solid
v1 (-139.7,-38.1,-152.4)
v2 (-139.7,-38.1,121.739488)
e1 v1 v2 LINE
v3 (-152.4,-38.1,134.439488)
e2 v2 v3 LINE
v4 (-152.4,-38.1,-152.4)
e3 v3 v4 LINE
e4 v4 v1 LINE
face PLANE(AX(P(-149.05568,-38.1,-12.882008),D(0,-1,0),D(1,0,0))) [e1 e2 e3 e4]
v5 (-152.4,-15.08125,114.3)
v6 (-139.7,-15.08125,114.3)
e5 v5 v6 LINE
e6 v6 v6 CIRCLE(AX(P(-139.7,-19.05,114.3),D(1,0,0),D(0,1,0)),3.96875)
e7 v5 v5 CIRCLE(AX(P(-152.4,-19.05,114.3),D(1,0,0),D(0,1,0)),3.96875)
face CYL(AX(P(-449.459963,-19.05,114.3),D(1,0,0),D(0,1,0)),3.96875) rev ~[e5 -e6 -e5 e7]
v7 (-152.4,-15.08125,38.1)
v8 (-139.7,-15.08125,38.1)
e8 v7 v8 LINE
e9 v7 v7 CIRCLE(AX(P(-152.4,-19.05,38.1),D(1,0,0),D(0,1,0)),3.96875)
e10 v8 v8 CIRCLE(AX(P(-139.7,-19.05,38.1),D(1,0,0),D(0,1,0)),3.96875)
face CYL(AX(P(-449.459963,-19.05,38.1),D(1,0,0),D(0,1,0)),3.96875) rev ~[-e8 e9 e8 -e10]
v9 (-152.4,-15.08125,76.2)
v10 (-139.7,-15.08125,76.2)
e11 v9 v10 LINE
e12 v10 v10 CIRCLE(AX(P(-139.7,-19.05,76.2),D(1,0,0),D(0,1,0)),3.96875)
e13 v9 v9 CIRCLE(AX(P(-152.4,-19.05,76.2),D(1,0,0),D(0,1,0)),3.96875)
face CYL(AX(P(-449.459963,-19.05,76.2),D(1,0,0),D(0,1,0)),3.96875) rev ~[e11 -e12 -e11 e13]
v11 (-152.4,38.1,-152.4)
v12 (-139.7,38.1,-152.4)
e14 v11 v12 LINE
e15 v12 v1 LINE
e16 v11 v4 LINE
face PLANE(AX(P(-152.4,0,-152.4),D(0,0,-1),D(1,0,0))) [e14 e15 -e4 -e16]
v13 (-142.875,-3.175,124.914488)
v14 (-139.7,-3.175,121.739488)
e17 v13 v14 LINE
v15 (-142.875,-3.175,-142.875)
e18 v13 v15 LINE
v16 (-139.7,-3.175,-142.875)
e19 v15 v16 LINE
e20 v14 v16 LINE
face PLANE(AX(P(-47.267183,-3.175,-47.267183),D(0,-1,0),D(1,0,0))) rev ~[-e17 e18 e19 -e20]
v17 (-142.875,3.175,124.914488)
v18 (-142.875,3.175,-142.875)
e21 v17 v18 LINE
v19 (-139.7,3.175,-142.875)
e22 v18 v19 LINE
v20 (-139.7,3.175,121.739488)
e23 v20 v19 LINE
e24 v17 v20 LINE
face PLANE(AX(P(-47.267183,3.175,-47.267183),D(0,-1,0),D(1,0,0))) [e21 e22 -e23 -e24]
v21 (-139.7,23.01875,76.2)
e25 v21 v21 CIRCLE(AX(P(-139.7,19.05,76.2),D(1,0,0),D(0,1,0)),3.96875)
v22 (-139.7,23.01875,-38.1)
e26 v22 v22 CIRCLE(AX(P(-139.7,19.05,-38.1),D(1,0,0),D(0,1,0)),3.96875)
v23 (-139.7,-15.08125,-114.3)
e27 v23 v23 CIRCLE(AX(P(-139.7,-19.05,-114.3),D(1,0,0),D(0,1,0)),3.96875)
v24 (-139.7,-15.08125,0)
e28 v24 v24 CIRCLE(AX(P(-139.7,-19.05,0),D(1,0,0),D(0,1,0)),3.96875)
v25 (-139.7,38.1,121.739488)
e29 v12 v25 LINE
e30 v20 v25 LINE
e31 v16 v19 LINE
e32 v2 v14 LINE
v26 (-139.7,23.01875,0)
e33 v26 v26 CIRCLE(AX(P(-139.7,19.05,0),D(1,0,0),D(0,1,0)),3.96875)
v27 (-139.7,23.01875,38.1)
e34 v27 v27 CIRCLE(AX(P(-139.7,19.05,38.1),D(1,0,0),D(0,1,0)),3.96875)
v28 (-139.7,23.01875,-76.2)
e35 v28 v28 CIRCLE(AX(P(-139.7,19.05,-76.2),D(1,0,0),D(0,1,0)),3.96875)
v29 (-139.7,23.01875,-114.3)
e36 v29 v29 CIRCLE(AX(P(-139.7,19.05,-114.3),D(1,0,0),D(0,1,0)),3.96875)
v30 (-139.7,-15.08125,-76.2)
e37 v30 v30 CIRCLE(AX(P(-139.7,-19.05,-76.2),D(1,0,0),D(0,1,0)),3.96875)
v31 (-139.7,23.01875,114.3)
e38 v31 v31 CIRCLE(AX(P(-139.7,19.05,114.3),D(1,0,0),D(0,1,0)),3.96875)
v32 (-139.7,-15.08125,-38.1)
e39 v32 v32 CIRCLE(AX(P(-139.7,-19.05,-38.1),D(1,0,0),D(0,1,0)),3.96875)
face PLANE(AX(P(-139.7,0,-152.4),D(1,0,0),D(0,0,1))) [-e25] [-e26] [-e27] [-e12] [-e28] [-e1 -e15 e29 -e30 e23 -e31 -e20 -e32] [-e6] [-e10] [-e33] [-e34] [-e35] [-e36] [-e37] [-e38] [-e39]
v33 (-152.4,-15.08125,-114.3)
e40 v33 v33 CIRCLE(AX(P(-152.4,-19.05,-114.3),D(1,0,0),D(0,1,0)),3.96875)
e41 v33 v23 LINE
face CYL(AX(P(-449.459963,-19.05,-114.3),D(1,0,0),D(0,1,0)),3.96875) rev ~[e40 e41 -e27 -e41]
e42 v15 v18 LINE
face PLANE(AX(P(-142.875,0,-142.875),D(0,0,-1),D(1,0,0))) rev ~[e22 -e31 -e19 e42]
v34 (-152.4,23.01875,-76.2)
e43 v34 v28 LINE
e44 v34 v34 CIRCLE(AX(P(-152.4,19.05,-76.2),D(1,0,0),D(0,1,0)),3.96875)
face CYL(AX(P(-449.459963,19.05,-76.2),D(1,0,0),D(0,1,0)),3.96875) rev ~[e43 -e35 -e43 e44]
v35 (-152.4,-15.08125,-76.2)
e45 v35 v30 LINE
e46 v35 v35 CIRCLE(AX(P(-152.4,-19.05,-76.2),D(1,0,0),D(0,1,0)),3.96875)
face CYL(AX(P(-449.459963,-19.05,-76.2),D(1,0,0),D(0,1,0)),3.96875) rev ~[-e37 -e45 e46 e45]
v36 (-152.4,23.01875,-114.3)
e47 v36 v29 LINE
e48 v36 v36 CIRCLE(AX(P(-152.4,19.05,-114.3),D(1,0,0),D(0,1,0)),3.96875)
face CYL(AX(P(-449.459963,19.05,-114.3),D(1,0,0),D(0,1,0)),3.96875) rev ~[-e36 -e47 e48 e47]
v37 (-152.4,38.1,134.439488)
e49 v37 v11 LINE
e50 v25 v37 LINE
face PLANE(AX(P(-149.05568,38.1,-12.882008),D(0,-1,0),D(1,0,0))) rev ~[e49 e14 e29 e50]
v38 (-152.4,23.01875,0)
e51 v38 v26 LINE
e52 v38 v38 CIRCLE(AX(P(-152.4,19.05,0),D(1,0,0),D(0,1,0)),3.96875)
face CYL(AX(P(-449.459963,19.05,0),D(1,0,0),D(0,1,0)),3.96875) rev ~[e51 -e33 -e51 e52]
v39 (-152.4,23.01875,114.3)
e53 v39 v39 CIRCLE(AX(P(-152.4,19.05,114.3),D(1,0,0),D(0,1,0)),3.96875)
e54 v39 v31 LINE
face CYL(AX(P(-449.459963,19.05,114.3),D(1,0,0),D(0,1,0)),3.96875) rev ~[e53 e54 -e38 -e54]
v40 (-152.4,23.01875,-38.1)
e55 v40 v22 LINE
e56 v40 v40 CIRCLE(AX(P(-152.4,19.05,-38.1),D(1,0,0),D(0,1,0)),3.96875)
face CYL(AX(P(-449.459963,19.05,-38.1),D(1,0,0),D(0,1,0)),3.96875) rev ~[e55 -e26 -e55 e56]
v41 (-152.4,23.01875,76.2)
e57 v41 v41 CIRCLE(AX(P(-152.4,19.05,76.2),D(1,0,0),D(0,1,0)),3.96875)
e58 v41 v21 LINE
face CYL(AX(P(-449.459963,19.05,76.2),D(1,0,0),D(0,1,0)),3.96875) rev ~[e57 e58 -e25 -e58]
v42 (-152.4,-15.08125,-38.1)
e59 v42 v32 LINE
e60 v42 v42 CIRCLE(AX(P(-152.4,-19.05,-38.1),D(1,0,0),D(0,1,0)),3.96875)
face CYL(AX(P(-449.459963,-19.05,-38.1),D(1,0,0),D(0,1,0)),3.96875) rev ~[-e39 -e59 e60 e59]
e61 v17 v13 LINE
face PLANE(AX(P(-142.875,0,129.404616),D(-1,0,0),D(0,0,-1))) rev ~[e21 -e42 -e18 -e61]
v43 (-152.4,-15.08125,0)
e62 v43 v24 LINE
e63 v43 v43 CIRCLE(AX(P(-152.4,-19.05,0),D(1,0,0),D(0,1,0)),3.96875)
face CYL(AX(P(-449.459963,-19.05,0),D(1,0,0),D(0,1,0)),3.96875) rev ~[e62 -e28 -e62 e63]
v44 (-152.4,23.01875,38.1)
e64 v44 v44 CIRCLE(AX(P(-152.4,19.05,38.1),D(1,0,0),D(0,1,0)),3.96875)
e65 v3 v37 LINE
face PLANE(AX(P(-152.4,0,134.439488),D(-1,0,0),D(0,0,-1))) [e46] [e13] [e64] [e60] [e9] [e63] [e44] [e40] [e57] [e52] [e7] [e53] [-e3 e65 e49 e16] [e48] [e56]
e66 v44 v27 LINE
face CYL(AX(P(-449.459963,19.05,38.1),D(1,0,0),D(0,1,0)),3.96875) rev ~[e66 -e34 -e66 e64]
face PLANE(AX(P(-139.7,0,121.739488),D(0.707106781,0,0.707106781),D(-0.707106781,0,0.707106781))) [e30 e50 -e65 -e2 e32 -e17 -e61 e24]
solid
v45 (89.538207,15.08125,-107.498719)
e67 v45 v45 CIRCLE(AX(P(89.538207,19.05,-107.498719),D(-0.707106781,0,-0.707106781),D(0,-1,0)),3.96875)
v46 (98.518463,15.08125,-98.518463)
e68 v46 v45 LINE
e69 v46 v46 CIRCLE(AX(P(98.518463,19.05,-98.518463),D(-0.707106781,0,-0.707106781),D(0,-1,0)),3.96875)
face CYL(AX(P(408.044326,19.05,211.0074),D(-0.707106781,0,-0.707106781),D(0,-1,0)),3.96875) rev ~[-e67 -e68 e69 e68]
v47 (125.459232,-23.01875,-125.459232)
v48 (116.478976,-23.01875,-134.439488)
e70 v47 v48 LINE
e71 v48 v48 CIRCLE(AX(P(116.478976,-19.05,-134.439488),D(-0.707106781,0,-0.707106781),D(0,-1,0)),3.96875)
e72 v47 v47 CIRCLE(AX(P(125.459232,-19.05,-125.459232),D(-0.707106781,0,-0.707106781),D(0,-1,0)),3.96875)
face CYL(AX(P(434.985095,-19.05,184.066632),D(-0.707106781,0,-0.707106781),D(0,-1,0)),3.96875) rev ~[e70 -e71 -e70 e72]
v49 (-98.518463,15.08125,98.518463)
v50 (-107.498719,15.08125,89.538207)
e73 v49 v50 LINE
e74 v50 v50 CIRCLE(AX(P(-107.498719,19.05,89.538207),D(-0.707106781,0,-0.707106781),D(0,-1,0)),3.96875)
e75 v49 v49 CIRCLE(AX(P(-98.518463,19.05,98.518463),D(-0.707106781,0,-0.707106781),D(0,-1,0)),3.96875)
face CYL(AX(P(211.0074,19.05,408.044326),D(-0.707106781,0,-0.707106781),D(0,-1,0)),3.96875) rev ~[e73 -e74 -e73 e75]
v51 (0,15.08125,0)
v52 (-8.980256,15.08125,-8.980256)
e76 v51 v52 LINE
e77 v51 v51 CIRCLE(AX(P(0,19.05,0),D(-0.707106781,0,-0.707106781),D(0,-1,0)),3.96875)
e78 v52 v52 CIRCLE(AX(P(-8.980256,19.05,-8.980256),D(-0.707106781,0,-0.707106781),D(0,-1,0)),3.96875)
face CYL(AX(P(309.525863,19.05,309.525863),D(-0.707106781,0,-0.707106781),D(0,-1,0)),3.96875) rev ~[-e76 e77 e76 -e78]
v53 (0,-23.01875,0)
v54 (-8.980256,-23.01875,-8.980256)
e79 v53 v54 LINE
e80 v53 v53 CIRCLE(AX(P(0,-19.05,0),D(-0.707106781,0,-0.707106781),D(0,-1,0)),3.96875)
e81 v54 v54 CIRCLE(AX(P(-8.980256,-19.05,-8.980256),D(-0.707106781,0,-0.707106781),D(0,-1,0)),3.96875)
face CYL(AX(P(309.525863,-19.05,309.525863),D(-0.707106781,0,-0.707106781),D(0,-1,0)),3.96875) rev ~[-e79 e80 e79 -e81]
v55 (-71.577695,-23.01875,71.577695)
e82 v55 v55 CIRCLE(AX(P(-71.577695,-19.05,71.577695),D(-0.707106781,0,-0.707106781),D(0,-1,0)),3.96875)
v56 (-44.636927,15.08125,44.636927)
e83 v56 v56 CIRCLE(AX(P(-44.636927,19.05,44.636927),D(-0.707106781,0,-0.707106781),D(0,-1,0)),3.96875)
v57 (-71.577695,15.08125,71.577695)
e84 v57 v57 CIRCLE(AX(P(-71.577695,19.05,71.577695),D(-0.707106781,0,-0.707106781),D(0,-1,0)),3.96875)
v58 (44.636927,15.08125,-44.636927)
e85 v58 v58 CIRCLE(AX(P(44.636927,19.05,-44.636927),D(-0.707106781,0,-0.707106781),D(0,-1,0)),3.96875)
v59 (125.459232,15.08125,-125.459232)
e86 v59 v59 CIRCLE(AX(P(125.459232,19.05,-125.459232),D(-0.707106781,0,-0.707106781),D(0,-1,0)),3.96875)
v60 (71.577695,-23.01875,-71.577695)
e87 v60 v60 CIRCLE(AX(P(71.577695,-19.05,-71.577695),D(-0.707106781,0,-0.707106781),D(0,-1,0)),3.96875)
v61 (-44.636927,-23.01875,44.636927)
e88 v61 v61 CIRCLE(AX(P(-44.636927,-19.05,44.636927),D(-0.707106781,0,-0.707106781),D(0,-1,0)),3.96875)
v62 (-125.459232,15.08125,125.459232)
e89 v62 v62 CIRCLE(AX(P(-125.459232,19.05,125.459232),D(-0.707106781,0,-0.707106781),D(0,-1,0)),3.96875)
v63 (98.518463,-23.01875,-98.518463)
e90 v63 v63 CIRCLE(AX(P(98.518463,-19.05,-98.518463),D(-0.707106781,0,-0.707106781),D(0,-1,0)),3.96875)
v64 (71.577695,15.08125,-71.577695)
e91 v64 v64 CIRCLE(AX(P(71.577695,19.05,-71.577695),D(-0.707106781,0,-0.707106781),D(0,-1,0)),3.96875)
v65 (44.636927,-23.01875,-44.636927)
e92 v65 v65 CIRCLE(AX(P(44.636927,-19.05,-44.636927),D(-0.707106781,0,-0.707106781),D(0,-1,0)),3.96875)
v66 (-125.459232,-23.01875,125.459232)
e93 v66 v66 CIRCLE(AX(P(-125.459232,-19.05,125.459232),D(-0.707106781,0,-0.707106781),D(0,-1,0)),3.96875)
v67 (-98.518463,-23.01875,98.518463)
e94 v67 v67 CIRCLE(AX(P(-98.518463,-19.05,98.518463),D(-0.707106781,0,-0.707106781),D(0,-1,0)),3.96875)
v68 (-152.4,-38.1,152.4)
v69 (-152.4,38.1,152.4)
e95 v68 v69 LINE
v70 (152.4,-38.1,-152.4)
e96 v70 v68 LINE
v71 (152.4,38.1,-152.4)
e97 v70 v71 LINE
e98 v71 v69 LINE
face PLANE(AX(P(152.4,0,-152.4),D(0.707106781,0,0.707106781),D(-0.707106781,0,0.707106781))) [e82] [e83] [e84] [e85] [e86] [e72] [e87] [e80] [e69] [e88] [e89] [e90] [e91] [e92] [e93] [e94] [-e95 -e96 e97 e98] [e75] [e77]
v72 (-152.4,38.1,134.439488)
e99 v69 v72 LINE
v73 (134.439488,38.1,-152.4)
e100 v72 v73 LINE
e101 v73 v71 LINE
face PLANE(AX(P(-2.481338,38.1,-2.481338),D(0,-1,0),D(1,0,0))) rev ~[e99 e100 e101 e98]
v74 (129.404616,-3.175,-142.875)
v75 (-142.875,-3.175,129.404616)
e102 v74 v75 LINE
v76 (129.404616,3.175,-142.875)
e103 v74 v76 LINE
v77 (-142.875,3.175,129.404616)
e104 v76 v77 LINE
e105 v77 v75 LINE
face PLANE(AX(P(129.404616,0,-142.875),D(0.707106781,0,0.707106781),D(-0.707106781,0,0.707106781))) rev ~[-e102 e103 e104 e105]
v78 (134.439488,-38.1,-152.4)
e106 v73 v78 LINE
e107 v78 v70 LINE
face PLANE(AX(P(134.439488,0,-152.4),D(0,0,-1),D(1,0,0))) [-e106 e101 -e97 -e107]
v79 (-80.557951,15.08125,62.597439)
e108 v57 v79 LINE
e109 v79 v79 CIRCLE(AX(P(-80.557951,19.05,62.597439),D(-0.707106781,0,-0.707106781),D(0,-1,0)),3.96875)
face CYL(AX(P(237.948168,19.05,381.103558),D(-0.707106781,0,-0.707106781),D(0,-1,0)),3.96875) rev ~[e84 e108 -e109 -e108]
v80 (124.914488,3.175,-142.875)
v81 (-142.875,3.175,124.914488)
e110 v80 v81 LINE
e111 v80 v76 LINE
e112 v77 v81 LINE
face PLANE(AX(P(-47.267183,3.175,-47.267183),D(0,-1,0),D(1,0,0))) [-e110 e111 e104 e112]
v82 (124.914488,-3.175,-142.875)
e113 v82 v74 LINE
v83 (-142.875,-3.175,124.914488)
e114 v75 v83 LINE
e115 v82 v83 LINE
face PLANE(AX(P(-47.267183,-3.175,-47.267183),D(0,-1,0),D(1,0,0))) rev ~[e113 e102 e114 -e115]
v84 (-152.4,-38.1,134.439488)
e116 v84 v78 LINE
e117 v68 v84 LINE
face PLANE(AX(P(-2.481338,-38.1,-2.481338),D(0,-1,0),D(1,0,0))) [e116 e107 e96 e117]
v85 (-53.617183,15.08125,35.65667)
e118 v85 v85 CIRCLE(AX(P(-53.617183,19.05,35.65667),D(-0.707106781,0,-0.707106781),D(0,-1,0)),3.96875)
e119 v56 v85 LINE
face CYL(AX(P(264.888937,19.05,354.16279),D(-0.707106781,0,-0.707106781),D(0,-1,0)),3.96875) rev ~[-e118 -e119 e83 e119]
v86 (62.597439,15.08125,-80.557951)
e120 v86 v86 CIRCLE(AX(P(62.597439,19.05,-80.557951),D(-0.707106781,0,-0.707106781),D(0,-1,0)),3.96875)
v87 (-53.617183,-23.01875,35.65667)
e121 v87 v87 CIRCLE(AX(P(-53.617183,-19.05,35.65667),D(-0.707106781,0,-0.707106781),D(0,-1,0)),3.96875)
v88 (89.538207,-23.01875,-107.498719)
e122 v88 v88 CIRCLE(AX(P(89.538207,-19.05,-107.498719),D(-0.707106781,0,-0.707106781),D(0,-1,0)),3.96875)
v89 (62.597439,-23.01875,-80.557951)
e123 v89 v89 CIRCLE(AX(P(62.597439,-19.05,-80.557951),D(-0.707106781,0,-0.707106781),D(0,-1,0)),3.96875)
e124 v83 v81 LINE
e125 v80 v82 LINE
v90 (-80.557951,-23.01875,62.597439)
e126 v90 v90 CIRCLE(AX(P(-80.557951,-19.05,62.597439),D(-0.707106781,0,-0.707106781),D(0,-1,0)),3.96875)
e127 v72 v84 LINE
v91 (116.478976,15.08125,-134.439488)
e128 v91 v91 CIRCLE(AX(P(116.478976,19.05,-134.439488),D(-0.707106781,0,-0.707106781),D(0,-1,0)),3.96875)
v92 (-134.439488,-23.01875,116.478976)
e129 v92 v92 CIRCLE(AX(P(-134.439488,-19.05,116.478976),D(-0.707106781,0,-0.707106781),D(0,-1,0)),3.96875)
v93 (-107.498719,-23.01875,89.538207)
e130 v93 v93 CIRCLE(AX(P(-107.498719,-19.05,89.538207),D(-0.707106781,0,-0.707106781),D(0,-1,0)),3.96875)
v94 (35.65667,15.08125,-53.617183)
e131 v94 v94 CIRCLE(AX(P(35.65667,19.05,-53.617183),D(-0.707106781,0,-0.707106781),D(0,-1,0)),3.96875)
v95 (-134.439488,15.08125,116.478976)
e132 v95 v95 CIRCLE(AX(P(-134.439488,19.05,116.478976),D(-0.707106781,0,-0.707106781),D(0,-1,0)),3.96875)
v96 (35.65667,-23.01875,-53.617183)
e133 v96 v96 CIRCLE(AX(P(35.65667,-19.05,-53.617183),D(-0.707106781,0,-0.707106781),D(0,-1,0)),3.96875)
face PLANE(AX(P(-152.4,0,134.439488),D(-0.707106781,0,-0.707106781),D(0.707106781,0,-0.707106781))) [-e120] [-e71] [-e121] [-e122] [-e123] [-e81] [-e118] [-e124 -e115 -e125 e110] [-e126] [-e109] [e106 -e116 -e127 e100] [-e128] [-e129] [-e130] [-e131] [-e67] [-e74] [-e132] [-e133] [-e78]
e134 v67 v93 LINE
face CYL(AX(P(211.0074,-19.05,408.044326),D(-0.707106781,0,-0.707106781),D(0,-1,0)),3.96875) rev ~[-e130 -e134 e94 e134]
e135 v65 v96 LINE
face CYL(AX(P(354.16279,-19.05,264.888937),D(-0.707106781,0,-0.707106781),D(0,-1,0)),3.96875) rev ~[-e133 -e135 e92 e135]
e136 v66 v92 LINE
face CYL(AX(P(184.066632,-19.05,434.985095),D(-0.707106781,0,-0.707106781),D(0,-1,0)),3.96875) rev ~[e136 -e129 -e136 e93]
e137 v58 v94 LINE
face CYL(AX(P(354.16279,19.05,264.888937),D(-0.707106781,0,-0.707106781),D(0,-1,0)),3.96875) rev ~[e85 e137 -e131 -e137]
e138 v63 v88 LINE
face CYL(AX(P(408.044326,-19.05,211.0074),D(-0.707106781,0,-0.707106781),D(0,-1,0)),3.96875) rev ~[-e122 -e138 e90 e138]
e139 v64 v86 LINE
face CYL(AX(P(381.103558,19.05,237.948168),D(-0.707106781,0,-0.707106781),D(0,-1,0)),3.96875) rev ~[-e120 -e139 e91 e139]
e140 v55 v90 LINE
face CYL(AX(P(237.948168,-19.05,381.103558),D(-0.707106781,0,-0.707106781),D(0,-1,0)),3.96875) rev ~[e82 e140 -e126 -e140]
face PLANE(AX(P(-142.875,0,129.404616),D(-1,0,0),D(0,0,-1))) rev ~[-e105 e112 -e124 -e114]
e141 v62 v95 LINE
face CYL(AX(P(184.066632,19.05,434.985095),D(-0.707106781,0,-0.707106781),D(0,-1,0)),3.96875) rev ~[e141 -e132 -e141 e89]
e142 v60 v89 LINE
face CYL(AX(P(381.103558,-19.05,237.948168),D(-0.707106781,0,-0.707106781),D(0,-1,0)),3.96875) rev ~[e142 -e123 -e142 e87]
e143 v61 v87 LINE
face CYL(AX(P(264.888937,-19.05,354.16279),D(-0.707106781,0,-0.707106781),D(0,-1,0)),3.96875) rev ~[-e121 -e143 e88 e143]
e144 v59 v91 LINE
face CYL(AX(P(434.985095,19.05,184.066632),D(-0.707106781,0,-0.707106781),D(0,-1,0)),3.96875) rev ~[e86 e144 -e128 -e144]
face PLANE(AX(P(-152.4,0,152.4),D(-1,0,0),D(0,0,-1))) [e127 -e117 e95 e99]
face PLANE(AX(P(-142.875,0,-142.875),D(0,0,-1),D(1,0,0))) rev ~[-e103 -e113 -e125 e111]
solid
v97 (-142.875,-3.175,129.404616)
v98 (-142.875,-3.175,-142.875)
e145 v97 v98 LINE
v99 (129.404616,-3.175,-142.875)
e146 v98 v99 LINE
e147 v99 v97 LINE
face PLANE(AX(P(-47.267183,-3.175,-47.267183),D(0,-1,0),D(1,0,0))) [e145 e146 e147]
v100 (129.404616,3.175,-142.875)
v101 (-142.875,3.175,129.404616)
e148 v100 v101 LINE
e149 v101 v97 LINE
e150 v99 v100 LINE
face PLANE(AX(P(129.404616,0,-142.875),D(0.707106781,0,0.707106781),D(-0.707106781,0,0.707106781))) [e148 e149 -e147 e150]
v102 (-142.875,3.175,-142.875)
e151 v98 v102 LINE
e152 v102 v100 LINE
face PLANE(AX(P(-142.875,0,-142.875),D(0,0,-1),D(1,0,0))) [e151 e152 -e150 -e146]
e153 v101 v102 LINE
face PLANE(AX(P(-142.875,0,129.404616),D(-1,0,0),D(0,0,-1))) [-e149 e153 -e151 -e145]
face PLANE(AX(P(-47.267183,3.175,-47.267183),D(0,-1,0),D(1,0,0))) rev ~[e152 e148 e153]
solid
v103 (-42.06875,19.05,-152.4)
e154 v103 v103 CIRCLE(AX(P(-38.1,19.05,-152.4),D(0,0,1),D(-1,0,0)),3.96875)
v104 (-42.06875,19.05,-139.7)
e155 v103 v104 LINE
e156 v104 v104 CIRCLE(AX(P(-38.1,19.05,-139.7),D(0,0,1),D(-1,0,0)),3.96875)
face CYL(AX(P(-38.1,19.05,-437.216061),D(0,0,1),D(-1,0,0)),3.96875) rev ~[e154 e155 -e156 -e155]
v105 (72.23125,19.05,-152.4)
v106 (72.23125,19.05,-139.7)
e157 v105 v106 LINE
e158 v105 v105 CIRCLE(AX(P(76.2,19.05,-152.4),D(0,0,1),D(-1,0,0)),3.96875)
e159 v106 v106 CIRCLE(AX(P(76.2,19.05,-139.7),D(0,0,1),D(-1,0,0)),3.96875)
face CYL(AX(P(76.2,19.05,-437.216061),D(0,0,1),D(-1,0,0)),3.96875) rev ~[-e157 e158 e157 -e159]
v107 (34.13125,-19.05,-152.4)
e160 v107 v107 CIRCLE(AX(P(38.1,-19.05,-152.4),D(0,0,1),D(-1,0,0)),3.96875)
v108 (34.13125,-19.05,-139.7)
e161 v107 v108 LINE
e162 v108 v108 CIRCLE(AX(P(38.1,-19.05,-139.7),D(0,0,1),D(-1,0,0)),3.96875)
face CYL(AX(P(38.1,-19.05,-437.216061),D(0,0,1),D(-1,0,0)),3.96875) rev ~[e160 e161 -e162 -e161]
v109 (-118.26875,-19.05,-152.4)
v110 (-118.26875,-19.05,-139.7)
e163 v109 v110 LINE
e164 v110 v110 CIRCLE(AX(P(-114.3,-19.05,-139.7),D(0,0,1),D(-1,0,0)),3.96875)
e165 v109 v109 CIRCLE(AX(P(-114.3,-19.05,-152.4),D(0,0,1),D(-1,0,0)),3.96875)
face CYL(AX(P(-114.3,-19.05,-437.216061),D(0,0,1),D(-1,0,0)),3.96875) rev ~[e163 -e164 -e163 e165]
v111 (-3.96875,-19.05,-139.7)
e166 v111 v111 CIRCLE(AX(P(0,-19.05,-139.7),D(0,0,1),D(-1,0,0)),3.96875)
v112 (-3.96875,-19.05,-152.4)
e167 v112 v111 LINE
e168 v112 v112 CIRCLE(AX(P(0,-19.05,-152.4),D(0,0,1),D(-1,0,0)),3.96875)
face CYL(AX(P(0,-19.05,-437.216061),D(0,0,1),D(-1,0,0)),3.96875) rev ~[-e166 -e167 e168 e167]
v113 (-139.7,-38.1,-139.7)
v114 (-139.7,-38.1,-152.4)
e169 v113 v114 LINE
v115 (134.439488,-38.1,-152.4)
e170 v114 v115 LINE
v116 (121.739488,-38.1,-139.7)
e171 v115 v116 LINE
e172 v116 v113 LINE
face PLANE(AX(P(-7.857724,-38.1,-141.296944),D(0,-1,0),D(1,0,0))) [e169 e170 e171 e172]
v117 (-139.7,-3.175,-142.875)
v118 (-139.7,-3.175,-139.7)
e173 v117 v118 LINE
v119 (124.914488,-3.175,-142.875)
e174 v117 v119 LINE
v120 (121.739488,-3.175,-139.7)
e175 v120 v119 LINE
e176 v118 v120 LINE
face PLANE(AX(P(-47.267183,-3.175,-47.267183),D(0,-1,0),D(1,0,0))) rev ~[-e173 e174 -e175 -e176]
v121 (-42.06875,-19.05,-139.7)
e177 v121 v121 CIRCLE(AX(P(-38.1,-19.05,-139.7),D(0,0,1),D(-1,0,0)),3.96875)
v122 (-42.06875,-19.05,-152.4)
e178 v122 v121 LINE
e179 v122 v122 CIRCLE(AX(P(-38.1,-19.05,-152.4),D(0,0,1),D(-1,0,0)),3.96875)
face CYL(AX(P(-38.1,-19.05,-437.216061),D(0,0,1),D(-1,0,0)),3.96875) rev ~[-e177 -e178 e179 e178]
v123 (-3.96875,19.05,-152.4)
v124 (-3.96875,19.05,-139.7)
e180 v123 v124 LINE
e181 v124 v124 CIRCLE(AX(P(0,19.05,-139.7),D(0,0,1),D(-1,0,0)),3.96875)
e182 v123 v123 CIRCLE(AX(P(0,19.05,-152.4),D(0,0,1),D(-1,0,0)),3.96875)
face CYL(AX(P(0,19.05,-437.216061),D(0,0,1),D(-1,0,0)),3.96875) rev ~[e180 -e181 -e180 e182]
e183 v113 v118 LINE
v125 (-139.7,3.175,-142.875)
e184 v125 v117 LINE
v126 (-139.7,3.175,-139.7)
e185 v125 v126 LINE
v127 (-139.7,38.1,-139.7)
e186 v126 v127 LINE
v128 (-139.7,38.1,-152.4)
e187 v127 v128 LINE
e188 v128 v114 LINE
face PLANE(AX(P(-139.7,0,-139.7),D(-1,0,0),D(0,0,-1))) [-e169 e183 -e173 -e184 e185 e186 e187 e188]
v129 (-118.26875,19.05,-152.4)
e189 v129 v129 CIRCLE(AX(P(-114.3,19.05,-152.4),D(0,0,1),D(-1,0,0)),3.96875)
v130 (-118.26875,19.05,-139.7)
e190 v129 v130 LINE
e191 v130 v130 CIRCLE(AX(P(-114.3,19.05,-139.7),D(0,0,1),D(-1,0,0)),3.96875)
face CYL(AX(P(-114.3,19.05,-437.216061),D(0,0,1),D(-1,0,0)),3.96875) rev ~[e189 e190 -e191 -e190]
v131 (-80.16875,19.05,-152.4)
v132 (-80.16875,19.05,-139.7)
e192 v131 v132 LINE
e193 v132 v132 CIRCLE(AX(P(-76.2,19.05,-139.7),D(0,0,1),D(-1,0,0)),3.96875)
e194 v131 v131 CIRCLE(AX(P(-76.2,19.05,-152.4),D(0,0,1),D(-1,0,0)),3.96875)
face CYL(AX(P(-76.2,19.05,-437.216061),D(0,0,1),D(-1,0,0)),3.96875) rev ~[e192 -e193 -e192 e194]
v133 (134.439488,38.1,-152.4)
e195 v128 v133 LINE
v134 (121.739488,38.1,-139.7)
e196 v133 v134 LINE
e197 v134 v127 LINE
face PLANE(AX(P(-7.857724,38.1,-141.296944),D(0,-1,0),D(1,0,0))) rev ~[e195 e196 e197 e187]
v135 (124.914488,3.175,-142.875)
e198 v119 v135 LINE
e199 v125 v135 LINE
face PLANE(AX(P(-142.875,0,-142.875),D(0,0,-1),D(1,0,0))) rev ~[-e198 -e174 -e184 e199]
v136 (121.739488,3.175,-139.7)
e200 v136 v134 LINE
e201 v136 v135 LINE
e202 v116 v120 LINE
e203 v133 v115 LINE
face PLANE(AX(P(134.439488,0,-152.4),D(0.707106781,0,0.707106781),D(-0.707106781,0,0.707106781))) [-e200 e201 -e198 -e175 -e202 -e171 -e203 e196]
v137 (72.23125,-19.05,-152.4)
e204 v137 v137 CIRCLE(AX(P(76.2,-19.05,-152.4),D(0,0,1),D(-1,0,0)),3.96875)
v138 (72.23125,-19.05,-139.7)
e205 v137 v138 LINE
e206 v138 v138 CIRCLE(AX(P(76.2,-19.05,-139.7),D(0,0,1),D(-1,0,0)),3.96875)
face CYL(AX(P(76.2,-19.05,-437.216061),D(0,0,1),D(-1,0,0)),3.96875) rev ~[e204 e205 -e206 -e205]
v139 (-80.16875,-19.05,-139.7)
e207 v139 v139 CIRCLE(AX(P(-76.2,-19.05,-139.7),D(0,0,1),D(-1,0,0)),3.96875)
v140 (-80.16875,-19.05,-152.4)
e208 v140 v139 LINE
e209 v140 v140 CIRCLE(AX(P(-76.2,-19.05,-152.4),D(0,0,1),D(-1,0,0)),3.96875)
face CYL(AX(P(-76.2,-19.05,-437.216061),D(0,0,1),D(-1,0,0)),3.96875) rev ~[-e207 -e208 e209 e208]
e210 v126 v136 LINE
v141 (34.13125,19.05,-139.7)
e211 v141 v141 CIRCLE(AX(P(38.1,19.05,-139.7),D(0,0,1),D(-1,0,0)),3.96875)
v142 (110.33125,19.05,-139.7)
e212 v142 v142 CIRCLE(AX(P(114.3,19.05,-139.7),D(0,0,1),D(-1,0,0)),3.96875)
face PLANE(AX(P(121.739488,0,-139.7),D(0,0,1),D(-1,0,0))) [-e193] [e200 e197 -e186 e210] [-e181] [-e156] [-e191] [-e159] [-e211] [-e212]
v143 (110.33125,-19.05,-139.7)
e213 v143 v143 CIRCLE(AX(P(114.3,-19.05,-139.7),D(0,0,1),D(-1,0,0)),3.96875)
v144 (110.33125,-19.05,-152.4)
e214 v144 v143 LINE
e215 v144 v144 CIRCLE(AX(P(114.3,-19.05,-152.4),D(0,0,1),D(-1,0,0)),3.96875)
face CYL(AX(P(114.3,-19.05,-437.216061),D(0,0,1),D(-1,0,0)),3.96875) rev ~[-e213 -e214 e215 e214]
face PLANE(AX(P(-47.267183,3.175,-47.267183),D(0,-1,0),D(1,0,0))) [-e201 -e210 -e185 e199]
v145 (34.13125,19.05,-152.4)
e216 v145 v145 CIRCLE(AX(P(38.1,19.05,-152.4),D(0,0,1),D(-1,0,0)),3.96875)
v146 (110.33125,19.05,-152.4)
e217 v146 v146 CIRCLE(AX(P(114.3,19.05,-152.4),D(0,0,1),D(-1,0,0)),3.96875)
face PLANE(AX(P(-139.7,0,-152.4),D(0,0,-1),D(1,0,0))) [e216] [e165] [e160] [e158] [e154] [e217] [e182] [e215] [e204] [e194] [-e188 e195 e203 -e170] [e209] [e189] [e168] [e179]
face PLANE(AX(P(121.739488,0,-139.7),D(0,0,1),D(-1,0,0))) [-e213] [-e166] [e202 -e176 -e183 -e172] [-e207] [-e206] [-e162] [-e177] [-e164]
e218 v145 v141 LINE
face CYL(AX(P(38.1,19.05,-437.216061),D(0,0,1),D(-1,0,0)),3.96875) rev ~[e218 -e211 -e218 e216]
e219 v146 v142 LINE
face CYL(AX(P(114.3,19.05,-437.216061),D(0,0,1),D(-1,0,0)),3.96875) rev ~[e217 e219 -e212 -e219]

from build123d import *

# Parameters (mm, degrees)
F1_DEPTH   = 38.1
F2_DEPTH   = 38.1
F3_DEPTH   = 38.1
F4_DEPTH   = 3.175
F9_D       = 7.9375
F9_ON_F7_D = 7.9375
F10_D      = 7.9375


with BuildPart() as f1:
    # F0 (on Front) → F1 (new body, symmetric)
    with BuildSketch(Plane.XZ):
        Polygon((-152.4, 152.4), (-152.4, 134.4394877579), (-146.05, 128.0894877579), (-146.05, 137.0697438789), (137.0697438789, -146.05), (128.0894877579, -146.05), (134.4394877579, -152.4), (152.4, -152.4), align=None)
        Polygon((-146.05, 137.0697438789), (-146.05, 128.0894877579), (-142.875, 124.9144877579), (-142.875, 129.4046158184), (129.4046158184, -142.875), (124.9144877579, -142.875), (128.0894877579, -146.05), (137.0697438789, -146.05), align=None)
        Polygon((-142.875, 129.4046158184), (-142.875, 124.9144877579), (-139.7, 121.7394877579), (121.7394877579, -139.7), (124.9144877579, -142.875), (129.4046158184, -142.875), align=None)
    extrude(amount=F1_DEPTH, both=True)


with BuildPart() as f2:
    # F0 (on Front) → F2 (new body, symmetric)
    with BuildSketch(Plane.XZ):
        Polygon((-152.4, 134.4394877579), (-152.4, -152.4), (-139.7, -152.4), (-139.7, -146.05), (-146.05, -146.05), (-146.05, 128.0894877579), align=None)
        Polygon((-146.05, -146.05), (-139.7, -146.05), (-139.7, -142.875), (-142.875, -142.875), (-142.875, 124.9144877579), (-146.05, 128.0894877579), align=None)
        Polygon((-142.875, -142.875), (-139.7, -142.875), (-139.7, -139.7), (-139.7, 121.7394877579), (-142.875, 124.9144877579), align=None)
    extrude(amount=F2_DEPTH, both=True)


with BuildPart() as f3:
    # F0 (on Front) → F3 (new body, symmetric)
    with BuildSketch(Plane.XZ):
        Polygon((-139.7, -139.7), (-139.7, -142.875), (124.9144877579, -142.875), (121.7394877579, -139.7), align=None)
        Polygon((-139.7, -142.875), (-139.7, -146.05), (128.0894877579, -146.05), (124.9144877579, -142.875), align=None)
        Polygon((-139.7, -146.05), (-139.7, -152.4), (134.4394877579, -152.4), (128.0894877579, -146.05), align=None)
    extrude(amount=F3_DEPTH, both=True)


with BuildPart() as f4:
    # F0 (on Front) → F4 (new body, symmetric)
    with BuildSketch(Plane.XZ):
        Polygon((-139.7, 121.7394877579), (-139.7, -139.7), (121.7394877579, -139.7), align=None)
        Polygon((-142.875, -142.875), (-139.7, -142.875), (-139.7, -139.7), (-139.7, 121.7394877579), (-142.875, 124.9144877579), align=None)
        Polygon((-142.875, 129.4046158184), (-142.875, 124.9144877579), (-139.7, 121.7394877579), (121.7394877579, -139.7), (124.9144877579, -142.875), (129.4046158184, -142.875), align=None)
        Polygon((-139.7, -139.7), (-139.7, -142.875), (124.9144877579, -142.875), (121.7394877579, -139.7), align=None)
    extrude(amount=F4_DEPTH, both=True)


with BuildPart() as f1_1:
    add(f1.part)

    # F5: cut F4
    add(f4.part, mode=Mode.SUBTRACT)

    # F10 (through all)
    with Locations(Plane(origin=(0, 0, 0), x_dir=(0, 1, 0), z_dir=(0.7071067812, 0, 0.7071067812))):
        with Locations((19.05, 177.4261469057), (-19.05, 177.4261469057), (-19.05, 139.3261469057), (19.05, 139.3261469057), (19.05, 101.2261469057), (-19.05, 101.2261469057), (19.05, 63.1261469057), (-19.05, 63.1261469057), (19.05, 0), (-19.05, -63.1261469057), (-19.05, -101.2261469057), (-19.05, -139.3261469057), (-19.05, -177.4261469057), (19.05, -177.4261469057), (19.05, -139.3261469057), (19.05, -101.2261469057), (19.05, -63.1261469057), (-19.05, 0)):
            Hole(F10_D / 2)


with BuildPart() as f2_1:
    add(f2.part)

    # F5: cut F4
    add(f4.part, mode=Mode.SUBTRACT)

    # F9 (through all)
    with Locations(Plane(origin=(-152.4, 0, 0), x_dir=(0, -1, 0), z_dir=(-1, 0, 0))):
        with Locations((19.05, 114.3), (19.05, 76.2), (-19.05, 76.2), (-19.05, 38.1), (19.05, 38.1), (19.05, 0), (-19.05, 0), (-19.05, -38.1), (19.05, -38.1), (19.05, -76.2), (-19.05, -76.2), (-19.05, -114.3), (19.05, -114.3), (-19.05, 114.3)):
            Hole(F9_D / 2)


with BuildPart() as f3_1:
    add(f3.part)

    # F5: cut F4
    add(f4.part, mode=Mode.SUBTRACT)

    # F9 on F7 (through all)
    with Locations(Plane(origin=(0, 0, -152.4), x_dir=(1, 0, 0), z_dir=(0, 0, -1))):
        with Locations((-114.3, 19.05), (-114.3, -19.05), (-76.2, -19.05), (-76.2, 19.05), (-38.1, 19.05), (-38.1, -19.05), (0, 19.05), (38.1, 19.05), (76.2, 19.05), (114.3, 19.05), (114.3, -19.05), (76.2, -19.05), (38.1, -19.05), (0, -19.05)):
            Hole(F9_ON_F7_D / 2)


solid = Compound([f4.part, f1_1.part, f2_1.part, f3_1.part])
